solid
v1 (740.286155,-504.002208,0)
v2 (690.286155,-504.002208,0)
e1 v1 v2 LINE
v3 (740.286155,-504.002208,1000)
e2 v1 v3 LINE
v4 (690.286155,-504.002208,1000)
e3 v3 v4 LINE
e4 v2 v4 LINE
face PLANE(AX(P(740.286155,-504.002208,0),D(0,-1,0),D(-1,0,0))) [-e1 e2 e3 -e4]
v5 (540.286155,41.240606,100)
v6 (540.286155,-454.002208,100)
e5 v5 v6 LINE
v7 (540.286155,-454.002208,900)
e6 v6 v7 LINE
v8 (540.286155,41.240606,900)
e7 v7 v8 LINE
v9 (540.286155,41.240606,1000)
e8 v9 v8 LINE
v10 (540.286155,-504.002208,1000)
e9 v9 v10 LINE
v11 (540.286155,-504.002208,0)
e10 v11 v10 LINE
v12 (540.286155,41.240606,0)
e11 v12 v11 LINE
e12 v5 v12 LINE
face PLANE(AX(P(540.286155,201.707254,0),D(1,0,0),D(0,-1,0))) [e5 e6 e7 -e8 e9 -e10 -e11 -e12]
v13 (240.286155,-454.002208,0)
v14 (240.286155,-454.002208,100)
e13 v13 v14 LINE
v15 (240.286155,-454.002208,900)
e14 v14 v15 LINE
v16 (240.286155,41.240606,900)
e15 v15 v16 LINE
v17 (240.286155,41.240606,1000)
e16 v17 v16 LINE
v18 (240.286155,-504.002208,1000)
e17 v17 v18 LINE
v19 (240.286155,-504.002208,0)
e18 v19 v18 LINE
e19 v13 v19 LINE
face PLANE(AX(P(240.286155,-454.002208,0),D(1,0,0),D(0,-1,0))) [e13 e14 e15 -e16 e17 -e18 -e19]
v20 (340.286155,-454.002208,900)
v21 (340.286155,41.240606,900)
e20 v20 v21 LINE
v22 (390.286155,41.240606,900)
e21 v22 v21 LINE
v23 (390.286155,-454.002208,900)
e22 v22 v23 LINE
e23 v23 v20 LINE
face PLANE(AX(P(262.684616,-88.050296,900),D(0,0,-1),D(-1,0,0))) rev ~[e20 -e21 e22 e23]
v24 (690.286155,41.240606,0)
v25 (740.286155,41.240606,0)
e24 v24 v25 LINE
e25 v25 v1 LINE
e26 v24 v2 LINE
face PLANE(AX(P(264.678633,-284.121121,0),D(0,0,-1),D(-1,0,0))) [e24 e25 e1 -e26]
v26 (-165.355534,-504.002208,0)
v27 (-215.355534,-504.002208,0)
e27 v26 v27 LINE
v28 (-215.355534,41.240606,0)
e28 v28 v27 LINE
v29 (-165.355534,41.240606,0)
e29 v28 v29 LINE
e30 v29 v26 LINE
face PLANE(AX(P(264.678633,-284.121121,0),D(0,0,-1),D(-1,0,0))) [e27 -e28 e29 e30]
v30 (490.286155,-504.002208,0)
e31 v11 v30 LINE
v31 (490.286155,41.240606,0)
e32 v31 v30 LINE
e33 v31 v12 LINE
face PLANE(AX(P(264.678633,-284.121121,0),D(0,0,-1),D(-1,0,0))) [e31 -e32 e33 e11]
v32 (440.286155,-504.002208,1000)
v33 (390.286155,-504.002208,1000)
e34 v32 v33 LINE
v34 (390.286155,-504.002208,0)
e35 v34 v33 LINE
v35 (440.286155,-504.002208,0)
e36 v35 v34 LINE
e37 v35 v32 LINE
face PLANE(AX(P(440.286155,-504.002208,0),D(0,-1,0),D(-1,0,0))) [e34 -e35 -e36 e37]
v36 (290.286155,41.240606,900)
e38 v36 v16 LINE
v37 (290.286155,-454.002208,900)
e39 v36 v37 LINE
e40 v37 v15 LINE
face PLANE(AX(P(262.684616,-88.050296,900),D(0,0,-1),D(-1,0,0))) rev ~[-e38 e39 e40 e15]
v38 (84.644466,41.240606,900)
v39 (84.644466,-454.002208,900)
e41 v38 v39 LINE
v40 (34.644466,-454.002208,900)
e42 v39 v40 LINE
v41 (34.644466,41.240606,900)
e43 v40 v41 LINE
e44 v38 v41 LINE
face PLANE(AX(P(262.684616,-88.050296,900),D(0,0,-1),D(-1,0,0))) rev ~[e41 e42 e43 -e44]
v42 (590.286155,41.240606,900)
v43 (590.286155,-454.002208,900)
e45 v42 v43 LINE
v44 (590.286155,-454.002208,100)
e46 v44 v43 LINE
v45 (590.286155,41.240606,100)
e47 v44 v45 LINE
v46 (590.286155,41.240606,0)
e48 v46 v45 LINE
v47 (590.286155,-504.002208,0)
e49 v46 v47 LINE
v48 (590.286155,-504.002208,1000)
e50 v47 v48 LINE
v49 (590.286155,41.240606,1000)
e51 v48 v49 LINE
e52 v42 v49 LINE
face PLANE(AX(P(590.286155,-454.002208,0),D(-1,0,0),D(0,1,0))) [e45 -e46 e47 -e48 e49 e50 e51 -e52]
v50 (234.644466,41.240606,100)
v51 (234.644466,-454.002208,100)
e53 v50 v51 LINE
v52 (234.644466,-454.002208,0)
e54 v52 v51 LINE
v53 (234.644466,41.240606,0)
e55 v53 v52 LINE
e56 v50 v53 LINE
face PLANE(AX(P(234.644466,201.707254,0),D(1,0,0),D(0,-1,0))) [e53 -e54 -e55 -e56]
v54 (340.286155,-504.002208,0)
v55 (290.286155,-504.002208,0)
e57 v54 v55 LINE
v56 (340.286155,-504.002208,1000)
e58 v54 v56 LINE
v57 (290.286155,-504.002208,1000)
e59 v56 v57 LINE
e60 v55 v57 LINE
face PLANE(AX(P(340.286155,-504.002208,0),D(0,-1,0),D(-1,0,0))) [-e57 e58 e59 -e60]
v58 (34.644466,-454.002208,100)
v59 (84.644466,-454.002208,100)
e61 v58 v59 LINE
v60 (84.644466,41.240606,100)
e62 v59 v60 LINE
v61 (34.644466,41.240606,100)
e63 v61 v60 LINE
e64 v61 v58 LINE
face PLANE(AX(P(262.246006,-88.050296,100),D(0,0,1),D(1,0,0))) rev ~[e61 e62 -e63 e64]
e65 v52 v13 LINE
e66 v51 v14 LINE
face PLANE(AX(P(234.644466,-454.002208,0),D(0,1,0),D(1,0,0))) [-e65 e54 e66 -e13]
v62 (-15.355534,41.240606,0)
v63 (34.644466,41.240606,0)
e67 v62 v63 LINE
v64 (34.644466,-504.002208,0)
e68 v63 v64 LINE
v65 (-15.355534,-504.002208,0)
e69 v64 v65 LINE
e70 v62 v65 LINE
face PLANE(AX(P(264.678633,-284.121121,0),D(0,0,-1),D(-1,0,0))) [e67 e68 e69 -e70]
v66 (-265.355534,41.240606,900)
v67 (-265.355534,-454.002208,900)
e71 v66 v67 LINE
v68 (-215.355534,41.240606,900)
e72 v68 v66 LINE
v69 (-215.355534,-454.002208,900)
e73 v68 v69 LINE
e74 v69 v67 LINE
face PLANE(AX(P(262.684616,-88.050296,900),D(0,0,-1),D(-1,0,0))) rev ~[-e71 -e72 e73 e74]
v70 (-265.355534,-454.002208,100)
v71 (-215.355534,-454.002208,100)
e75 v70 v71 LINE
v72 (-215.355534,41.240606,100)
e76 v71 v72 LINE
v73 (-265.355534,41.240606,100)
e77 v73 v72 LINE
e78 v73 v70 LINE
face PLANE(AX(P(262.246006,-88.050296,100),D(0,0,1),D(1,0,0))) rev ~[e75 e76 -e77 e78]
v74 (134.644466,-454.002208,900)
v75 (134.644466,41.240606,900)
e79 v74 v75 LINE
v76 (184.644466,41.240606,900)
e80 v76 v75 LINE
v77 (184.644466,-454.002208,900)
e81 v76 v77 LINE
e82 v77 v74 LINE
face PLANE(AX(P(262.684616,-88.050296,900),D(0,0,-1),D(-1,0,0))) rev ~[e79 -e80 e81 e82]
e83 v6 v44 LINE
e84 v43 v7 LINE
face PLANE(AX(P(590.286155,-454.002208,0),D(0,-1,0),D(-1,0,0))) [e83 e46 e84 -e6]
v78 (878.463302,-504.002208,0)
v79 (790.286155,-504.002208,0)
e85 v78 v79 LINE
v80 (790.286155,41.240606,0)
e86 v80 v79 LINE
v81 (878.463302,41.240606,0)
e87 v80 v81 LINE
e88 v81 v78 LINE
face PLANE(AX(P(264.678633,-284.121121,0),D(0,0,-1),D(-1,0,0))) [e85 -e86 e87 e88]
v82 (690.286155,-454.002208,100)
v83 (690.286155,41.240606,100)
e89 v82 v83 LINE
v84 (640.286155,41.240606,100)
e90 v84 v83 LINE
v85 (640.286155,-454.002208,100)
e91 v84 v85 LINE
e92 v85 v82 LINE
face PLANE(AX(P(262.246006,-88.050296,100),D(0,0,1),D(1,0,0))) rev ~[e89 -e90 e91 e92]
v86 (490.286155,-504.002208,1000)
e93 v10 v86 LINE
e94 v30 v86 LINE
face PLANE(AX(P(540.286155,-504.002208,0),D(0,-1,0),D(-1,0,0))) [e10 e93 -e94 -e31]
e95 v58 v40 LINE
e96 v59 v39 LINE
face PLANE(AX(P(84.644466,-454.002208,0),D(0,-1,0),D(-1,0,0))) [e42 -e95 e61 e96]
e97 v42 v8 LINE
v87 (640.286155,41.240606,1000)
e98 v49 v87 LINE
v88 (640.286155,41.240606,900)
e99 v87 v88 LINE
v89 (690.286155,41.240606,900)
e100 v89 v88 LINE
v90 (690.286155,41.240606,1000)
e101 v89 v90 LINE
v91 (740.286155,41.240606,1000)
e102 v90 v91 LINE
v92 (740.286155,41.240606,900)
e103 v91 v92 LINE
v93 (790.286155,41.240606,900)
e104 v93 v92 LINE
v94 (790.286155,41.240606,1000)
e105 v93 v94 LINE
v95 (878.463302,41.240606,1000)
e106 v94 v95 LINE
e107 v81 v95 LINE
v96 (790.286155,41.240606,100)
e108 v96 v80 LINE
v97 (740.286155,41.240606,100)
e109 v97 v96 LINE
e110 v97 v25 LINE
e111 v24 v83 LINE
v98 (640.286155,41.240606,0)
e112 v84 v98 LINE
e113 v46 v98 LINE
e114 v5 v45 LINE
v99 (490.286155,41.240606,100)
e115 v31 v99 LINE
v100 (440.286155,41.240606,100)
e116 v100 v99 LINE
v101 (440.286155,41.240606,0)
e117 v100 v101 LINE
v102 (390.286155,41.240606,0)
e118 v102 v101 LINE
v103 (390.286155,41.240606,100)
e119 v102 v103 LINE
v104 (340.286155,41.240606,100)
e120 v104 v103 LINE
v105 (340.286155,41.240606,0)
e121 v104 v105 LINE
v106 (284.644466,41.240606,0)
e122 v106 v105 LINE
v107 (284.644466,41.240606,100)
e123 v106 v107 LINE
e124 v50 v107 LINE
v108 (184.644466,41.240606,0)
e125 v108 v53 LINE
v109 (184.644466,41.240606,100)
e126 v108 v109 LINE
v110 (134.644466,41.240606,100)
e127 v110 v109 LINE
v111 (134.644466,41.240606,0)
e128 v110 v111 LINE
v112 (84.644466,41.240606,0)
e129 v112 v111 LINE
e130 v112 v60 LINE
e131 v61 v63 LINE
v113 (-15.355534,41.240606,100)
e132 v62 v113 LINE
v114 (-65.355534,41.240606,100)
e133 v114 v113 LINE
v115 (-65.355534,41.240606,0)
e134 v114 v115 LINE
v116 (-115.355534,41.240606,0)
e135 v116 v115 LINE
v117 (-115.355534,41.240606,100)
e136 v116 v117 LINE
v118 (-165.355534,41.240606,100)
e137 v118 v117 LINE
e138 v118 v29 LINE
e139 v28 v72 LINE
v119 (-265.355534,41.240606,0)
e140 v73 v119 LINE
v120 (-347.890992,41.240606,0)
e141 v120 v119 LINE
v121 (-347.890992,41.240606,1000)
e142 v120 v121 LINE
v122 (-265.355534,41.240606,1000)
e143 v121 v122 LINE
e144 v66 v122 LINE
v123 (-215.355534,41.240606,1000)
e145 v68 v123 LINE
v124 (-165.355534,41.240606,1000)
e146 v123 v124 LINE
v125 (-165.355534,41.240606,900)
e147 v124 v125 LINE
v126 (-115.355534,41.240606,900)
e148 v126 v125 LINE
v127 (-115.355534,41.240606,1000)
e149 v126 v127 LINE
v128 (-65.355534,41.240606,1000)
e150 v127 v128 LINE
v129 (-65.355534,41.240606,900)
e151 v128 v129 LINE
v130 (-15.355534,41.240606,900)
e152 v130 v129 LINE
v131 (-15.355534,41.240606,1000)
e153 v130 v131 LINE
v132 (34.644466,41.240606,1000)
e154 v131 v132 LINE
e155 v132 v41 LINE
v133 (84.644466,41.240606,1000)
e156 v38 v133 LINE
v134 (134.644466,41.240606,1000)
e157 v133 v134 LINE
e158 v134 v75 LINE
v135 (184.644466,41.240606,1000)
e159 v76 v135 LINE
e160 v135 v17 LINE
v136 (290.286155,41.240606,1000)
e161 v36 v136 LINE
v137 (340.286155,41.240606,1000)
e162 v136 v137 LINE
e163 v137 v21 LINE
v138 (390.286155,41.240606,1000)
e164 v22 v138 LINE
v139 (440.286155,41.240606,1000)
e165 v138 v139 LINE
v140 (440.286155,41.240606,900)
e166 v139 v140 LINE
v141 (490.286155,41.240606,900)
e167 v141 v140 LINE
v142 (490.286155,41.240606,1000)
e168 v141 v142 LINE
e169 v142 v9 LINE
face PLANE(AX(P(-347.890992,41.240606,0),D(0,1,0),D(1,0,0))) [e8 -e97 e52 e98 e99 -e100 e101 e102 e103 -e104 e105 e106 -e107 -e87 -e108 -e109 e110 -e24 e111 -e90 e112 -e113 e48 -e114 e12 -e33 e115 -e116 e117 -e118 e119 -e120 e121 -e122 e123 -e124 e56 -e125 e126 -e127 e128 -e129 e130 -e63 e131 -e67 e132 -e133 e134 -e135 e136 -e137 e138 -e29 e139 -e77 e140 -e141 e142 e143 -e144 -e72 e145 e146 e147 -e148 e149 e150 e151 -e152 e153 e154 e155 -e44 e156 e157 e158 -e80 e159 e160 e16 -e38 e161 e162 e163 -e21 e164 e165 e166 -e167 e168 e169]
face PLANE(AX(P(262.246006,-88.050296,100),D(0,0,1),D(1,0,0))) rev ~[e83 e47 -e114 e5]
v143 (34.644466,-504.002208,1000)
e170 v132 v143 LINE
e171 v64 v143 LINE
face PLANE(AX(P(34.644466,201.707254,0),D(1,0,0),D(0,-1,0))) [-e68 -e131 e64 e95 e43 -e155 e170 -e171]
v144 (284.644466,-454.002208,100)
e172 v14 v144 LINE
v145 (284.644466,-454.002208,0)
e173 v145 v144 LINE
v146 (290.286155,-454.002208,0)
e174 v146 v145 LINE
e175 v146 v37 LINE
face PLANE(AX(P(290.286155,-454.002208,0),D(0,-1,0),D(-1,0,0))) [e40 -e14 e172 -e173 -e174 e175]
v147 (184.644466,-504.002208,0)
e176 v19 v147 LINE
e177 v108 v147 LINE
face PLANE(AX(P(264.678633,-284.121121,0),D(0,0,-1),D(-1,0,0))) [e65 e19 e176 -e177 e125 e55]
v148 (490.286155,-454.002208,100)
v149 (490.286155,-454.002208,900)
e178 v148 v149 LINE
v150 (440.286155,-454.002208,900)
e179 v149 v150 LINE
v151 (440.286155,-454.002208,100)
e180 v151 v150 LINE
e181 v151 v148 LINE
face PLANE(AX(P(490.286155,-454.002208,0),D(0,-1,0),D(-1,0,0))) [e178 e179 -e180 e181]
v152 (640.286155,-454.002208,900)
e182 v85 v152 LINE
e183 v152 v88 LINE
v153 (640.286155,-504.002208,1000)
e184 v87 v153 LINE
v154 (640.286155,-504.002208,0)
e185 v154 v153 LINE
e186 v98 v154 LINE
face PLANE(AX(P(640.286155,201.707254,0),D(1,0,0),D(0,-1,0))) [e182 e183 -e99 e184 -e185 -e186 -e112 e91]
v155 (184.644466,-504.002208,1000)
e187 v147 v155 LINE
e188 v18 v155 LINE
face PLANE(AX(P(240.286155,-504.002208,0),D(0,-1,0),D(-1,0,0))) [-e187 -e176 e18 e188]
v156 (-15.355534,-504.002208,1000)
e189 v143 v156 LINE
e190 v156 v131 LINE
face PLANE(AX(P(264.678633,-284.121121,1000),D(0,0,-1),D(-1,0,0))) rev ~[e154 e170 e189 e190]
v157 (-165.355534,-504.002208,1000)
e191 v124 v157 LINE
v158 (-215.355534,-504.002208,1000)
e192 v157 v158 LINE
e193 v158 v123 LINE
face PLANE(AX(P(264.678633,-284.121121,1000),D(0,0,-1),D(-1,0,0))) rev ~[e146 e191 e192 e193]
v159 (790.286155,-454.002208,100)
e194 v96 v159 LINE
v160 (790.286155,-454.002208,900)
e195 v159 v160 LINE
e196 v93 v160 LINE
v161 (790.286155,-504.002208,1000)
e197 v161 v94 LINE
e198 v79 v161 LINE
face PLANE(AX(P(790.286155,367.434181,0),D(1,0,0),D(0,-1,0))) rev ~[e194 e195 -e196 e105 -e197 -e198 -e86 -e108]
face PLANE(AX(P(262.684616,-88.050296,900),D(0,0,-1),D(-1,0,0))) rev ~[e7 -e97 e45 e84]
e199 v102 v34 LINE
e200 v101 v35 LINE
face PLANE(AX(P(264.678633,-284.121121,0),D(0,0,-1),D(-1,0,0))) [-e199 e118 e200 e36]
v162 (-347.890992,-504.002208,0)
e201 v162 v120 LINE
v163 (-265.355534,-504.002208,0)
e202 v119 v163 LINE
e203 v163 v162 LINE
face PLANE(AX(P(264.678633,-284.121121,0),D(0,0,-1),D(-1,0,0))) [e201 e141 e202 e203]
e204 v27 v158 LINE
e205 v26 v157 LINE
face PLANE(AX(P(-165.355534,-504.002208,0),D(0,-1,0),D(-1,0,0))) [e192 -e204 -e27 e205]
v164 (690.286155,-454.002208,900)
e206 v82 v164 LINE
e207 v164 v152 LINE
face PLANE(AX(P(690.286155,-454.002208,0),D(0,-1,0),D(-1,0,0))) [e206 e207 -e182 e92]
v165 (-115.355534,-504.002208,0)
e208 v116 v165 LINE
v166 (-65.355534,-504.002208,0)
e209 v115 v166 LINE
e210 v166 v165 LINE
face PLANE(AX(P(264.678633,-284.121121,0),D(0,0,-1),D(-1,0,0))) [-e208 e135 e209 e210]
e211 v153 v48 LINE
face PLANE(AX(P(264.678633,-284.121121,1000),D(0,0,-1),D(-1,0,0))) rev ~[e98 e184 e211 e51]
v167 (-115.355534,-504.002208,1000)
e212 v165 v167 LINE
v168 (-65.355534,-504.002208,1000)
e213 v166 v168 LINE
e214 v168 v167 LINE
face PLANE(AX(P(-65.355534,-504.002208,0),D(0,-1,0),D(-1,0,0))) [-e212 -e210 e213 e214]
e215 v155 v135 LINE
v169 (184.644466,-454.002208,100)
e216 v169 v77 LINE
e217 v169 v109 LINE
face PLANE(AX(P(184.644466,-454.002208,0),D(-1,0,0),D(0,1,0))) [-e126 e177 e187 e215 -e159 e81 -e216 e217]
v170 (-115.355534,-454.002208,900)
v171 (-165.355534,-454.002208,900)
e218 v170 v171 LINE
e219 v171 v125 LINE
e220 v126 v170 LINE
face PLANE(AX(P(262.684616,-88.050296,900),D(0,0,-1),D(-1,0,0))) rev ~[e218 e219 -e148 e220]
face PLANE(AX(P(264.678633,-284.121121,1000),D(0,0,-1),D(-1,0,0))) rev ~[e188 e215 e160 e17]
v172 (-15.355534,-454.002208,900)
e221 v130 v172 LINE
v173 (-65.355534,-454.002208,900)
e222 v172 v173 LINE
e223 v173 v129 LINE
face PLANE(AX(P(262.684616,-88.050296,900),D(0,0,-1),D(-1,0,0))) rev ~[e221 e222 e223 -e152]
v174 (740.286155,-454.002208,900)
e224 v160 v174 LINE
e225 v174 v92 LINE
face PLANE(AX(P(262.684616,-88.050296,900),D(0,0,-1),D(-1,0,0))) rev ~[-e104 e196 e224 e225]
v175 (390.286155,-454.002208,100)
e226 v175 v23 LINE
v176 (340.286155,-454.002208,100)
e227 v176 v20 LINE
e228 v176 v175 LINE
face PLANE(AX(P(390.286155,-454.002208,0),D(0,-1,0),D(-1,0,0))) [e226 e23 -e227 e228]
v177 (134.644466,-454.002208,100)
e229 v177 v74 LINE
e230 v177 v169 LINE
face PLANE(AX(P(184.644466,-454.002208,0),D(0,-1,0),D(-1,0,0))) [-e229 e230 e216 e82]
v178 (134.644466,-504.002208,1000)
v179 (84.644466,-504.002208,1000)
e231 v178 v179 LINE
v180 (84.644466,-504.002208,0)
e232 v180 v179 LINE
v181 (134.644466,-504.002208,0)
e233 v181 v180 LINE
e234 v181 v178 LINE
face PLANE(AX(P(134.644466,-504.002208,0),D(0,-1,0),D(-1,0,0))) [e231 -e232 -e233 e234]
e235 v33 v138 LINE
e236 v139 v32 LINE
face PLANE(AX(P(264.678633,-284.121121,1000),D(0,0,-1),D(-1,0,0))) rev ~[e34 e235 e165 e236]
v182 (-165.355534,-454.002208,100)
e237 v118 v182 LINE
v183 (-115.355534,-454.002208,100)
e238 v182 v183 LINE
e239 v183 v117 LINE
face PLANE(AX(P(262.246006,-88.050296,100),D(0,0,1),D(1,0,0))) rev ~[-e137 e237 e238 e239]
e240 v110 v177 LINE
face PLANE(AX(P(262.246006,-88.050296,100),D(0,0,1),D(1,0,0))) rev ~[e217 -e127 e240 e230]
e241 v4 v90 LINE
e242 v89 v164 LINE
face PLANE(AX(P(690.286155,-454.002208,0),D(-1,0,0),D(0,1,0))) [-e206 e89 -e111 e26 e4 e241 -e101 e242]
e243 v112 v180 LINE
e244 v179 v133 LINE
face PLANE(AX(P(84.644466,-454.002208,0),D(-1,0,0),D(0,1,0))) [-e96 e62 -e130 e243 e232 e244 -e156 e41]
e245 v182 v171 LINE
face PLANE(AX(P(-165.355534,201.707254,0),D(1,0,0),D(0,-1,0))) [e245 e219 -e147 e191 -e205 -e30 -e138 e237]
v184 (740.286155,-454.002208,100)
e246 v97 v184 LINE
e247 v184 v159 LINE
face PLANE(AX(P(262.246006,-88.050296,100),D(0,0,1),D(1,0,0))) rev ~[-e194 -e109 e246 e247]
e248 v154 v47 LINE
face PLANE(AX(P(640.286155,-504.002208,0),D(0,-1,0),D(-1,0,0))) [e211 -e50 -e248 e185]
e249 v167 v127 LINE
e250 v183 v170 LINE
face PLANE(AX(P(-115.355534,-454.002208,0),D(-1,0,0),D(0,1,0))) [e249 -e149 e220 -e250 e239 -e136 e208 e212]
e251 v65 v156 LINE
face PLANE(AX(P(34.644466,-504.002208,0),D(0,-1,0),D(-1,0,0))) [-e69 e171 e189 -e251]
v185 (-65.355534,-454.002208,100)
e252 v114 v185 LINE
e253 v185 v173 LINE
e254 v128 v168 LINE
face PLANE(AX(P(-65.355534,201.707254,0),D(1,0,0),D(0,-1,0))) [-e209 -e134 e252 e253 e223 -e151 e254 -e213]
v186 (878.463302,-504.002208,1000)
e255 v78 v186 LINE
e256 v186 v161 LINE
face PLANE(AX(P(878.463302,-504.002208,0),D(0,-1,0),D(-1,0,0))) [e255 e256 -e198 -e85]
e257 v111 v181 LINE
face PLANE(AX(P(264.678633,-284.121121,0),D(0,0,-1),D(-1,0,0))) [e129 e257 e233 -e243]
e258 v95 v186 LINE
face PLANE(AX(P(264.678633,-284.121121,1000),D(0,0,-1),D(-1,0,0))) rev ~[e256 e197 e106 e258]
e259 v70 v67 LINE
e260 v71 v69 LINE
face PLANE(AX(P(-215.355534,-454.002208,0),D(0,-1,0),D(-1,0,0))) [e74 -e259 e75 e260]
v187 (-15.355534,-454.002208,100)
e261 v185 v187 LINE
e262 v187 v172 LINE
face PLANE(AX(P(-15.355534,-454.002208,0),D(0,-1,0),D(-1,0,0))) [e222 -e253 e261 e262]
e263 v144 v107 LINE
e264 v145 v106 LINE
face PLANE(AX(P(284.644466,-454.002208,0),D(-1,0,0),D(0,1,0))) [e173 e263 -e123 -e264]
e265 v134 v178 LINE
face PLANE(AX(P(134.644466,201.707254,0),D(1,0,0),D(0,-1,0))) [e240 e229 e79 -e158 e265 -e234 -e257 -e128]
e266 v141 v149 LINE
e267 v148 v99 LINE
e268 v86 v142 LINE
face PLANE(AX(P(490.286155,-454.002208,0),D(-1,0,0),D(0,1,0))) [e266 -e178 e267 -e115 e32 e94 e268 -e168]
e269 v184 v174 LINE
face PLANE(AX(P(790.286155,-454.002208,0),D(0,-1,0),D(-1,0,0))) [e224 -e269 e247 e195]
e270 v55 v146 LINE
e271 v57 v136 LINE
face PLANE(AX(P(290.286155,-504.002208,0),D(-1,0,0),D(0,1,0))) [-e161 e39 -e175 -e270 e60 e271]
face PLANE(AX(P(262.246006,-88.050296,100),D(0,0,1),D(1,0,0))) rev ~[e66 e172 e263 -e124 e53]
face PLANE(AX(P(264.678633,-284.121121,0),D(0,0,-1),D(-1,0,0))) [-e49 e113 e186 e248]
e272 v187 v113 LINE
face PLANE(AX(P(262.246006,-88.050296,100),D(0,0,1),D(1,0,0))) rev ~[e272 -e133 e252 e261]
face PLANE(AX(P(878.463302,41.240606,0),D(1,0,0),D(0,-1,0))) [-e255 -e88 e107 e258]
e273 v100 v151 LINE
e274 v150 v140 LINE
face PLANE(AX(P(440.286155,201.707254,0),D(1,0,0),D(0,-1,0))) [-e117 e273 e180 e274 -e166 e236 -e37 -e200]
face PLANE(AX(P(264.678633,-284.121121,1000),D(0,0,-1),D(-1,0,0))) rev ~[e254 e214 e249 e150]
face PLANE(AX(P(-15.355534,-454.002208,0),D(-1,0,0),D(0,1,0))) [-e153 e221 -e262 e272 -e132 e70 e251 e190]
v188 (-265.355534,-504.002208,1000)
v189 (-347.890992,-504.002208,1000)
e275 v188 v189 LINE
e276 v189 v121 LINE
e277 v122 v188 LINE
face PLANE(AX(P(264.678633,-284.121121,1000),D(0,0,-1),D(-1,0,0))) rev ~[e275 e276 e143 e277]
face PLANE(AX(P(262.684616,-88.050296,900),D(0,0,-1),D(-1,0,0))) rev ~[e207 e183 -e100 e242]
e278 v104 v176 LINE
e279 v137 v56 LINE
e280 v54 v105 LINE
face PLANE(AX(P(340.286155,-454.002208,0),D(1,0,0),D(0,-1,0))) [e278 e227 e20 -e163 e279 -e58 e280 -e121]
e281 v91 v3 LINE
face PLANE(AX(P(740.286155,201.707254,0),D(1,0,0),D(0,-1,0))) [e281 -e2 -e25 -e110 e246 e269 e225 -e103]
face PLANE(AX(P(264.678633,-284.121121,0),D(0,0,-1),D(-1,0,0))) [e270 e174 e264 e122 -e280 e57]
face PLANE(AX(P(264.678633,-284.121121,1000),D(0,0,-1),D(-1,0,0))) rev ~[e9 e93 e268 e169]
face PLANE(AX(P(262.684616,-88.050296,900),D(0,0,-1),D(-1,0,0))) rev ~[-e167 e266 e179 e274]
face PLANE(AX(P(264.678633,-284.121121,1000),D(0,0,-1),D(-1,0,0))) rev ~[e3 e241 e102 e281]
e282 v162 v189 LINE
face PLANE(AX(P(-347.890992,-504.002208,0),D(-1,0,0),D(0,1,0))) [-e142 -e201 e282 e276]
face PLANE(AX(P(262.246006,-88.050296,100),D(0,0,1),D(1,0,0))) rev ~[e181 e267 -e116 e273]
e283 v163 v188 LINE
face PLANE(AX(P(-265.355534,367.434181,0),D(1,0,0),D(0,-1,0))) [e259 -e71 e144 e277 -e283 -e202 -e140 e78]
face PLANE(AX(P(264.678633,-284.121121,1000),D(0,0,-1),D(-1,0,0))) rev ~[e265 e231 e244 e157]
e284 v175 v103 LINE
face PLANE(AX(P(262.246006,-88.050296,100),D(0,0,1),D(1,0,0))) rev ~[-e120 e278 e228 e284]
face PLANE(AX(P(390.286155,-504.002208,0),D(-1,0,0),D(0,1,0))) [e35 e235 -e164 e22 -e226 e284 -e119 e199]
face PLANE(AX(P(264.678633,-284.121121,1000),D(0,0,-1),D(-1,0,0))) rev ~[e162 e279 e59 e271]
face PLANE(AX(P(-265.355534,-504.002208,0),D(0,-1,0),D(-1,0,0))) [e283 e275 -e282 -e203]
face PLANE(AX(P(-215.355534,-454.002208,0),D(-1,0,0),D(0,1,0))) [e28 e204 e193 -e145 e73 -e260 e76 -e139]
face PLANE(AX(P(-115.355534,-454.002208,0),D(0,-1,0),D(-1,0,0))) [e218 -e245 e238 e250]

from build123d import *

# Parameters (mm, degrees)
BOSS_EXTRUDE1_DEPTH = 1000
CUT_EXTRUDE1_DEPTH  = 100
CUT_EXTRUDE2_DEPTH  = 100


with BuildPart() as part:
    # Sketch1 → Boss-Extrude1 (new body)
    with BuildSketch(Plane.XY):
        Polygon((390.286155145, -454.00220839), (340.286155145, -454.00220839), (340.286155145, -504.00220839), (290.286155145, -504.00220839), (290.286155145, -454.00220839), (240.286155145, -454.00220839), (240.286155145, -504.00220839), (184.64446635, -504.00220839), (184.64446635, -454.00220839), (134.64446635, -454.00220839), (134.64446635, -504.00220839), (84.64446635, -504.00220839), (84.64446635, -454.00220839), (34.64446635, -454.00220839), (34.64446635, -504.00220839), (-15.35553365, -504.00220839), (-15.35553365, -454.00220839), (-65.35553365, -454.00220839), (-65.35553365, -504.00220839), (-115.35553365, -504.00220839), (-115.35553365, -454.00220839), (-165.35553365, -454.00220839), (-165.35553365, -504.00220839), (-215.35553365, -504.00220839), (-215.35553365, -454.00220839), (-265.35553365, -454.00220839), (-265.35553365, -504.00220839), (-347.890991568, -504.00220839), (-347.890991568, 41.240606266), (878.463301858, 41.240606266), (878.463301858, -504.00220839), (790.286155145, -504.00220839), (790.286155145, -454.00220839), (740.286155145, -454.00220839), (740.286155145, -504.00220839), (690.286155145, -504.00220839), (690.286155145, -454.00220839), (640.286155145, -454.00220839), (640.286155145, -504.00220839), (590.286155145, -504.00220839), (590.286155145, -454.00220839), (540.286155145, -454.00220839), (540.286155145, -504.00220839), (490.286155145, -504.00220839), (490.286155145, -454.00220839), (440.286155145, -454.00220839), (440.286155145, -504.00220839), (390.286155145, -504.00220839), align=None)
    extrude(amount=BOSS_EXTRUDE1_DEPTH)

    # Sketch2 → Cut-Extrude1 (cut)
    with BuildSketch(Plane.XY.offset(1000)):
        Polygon((-265.35553365, -454.00220839), (-265.35553365, 201.707253547), (-265.35553365, 367.434180801), (790.286155145, 367.434180801), (790.286155145, -454.00220839), (740.286155145, -454.00220839), (740.286155145, 201.707253547), (690.286155145, 201.707253547), (690.286155145, -454.00220839), (640.286155145, -454.00220839), (640.286155145, 201.707253547), (590.286155145, 201.707253547), (590.286155145, -454.00220839), (540.286155145, -454.00220839), (540.286155145, 201.707253547), (490.286155145, 201.707253547), (490.286155145, -454.00220839), (440.286155145, -454.00220839), (440.286155145, 201.707253547), (390.286155145, 201.707253547), (390.286155145, -454.00220839), (340.286155145, -454.00220839), (340.286155145, 201.707253547), (290.286155145, 201.707253547), (290.286155145, -454.00220839), (240.286155145, -454.00220839), (240.286155145, 201.707253547), (184.64446635, 201.707253547), (184.64446635, -454.00220839), (134.64446635, -454.00220839), (134.64446635, 201.707253547), (84.64446635, 201.707253547), (84.64446635, -454.00220839), (34.64446635, -454.00220839), (34.64446635, 201.707253547), (-15.35553365, 201.707253547), (-15.35553365, -454.00220839), (-65.35553365, -454.00220839), (-65.35553365, 201.707253547), (-115.35553365, 201.707253547), (-115.35553365, -454.00220839), (-165.35553365, -454.00220839), (-165.35553365, 201.707253547), (-215.35553365, 201.707253547), (-215.35553365, -454.00220839), align=None)
    extrude(amount=-CUT_EXTRUDE1_DEPTH, mode=Mode.SUBTRACT)

    # Sketch3 → Cut-Extrude2 (cut)
    with BuildSketch(Plane(origin=(0, 0, 0), x_dir=(-1, 0, 0), z_dir=(0, 0, -1))):
        Polygon((-790.286155145, -454.00220839), (-790.286155145, 201.707253547), (-790.286155145, 367.434180801), (265.35553365, 367.434180801), (265.35553365, -454.00220839), (215.35553365, -454.00220839), (215.35553365, 201.707253547), (165.35553365, 201.707253547), (165.35553365, -454.00220839), (115.35553365, -454.00220839), (115.35553365, 201.707253547), (65.35553365, 201.707253547), (65.35553365, -454.00220839), (15.35553365, -454.00220839), (15.35553365, 201.707253547), (-34.64446635, 201.707253547), (-34.64446635, -454.00220839), (-84.64446635, -454.00220839), (-84.64446635, 201.707253547), (-134.64446635, 201.707253547), (-134.64446635, -454.00220839), (-184.64446635, -454.00220839), (-184.64446635, 201.707253547), (-234.64446635, 201.707253547), (-234.64446635, -454.00220839), (-284.64446635, -454.00220839), (-284.64446635, 201.707253547), (-340.286155145, 201.707253547), (-340.286155145, -454.00220839), (-390.286155145, -454.00220839), (-390.286155145, 201.707253547), (-440.286155145, 201.707253547), (-440.286155145, -454.00220839), (-490.286155145, -454.00220839), (-490.286155145, 201.707253547), (-540.286155145, 201.707253547), (-540.286155145, -454.00220839), (-590.286155145, -454.00220839), (-590.286155145, 201.707253547), (-640.286155145, 201.707253547), (-640.286155145, -454.00220839), (-690.286155145, -454.00220839), (-690.286155145, 201.707253547), (-740.286155145, 201.707253547), (-740.286155145, -454.00220839), align=None)
    extrude(amount=-CUT_EXTRUDE2_DEPTH, mode=Mode.SUBTRACT)


solid = part.part
